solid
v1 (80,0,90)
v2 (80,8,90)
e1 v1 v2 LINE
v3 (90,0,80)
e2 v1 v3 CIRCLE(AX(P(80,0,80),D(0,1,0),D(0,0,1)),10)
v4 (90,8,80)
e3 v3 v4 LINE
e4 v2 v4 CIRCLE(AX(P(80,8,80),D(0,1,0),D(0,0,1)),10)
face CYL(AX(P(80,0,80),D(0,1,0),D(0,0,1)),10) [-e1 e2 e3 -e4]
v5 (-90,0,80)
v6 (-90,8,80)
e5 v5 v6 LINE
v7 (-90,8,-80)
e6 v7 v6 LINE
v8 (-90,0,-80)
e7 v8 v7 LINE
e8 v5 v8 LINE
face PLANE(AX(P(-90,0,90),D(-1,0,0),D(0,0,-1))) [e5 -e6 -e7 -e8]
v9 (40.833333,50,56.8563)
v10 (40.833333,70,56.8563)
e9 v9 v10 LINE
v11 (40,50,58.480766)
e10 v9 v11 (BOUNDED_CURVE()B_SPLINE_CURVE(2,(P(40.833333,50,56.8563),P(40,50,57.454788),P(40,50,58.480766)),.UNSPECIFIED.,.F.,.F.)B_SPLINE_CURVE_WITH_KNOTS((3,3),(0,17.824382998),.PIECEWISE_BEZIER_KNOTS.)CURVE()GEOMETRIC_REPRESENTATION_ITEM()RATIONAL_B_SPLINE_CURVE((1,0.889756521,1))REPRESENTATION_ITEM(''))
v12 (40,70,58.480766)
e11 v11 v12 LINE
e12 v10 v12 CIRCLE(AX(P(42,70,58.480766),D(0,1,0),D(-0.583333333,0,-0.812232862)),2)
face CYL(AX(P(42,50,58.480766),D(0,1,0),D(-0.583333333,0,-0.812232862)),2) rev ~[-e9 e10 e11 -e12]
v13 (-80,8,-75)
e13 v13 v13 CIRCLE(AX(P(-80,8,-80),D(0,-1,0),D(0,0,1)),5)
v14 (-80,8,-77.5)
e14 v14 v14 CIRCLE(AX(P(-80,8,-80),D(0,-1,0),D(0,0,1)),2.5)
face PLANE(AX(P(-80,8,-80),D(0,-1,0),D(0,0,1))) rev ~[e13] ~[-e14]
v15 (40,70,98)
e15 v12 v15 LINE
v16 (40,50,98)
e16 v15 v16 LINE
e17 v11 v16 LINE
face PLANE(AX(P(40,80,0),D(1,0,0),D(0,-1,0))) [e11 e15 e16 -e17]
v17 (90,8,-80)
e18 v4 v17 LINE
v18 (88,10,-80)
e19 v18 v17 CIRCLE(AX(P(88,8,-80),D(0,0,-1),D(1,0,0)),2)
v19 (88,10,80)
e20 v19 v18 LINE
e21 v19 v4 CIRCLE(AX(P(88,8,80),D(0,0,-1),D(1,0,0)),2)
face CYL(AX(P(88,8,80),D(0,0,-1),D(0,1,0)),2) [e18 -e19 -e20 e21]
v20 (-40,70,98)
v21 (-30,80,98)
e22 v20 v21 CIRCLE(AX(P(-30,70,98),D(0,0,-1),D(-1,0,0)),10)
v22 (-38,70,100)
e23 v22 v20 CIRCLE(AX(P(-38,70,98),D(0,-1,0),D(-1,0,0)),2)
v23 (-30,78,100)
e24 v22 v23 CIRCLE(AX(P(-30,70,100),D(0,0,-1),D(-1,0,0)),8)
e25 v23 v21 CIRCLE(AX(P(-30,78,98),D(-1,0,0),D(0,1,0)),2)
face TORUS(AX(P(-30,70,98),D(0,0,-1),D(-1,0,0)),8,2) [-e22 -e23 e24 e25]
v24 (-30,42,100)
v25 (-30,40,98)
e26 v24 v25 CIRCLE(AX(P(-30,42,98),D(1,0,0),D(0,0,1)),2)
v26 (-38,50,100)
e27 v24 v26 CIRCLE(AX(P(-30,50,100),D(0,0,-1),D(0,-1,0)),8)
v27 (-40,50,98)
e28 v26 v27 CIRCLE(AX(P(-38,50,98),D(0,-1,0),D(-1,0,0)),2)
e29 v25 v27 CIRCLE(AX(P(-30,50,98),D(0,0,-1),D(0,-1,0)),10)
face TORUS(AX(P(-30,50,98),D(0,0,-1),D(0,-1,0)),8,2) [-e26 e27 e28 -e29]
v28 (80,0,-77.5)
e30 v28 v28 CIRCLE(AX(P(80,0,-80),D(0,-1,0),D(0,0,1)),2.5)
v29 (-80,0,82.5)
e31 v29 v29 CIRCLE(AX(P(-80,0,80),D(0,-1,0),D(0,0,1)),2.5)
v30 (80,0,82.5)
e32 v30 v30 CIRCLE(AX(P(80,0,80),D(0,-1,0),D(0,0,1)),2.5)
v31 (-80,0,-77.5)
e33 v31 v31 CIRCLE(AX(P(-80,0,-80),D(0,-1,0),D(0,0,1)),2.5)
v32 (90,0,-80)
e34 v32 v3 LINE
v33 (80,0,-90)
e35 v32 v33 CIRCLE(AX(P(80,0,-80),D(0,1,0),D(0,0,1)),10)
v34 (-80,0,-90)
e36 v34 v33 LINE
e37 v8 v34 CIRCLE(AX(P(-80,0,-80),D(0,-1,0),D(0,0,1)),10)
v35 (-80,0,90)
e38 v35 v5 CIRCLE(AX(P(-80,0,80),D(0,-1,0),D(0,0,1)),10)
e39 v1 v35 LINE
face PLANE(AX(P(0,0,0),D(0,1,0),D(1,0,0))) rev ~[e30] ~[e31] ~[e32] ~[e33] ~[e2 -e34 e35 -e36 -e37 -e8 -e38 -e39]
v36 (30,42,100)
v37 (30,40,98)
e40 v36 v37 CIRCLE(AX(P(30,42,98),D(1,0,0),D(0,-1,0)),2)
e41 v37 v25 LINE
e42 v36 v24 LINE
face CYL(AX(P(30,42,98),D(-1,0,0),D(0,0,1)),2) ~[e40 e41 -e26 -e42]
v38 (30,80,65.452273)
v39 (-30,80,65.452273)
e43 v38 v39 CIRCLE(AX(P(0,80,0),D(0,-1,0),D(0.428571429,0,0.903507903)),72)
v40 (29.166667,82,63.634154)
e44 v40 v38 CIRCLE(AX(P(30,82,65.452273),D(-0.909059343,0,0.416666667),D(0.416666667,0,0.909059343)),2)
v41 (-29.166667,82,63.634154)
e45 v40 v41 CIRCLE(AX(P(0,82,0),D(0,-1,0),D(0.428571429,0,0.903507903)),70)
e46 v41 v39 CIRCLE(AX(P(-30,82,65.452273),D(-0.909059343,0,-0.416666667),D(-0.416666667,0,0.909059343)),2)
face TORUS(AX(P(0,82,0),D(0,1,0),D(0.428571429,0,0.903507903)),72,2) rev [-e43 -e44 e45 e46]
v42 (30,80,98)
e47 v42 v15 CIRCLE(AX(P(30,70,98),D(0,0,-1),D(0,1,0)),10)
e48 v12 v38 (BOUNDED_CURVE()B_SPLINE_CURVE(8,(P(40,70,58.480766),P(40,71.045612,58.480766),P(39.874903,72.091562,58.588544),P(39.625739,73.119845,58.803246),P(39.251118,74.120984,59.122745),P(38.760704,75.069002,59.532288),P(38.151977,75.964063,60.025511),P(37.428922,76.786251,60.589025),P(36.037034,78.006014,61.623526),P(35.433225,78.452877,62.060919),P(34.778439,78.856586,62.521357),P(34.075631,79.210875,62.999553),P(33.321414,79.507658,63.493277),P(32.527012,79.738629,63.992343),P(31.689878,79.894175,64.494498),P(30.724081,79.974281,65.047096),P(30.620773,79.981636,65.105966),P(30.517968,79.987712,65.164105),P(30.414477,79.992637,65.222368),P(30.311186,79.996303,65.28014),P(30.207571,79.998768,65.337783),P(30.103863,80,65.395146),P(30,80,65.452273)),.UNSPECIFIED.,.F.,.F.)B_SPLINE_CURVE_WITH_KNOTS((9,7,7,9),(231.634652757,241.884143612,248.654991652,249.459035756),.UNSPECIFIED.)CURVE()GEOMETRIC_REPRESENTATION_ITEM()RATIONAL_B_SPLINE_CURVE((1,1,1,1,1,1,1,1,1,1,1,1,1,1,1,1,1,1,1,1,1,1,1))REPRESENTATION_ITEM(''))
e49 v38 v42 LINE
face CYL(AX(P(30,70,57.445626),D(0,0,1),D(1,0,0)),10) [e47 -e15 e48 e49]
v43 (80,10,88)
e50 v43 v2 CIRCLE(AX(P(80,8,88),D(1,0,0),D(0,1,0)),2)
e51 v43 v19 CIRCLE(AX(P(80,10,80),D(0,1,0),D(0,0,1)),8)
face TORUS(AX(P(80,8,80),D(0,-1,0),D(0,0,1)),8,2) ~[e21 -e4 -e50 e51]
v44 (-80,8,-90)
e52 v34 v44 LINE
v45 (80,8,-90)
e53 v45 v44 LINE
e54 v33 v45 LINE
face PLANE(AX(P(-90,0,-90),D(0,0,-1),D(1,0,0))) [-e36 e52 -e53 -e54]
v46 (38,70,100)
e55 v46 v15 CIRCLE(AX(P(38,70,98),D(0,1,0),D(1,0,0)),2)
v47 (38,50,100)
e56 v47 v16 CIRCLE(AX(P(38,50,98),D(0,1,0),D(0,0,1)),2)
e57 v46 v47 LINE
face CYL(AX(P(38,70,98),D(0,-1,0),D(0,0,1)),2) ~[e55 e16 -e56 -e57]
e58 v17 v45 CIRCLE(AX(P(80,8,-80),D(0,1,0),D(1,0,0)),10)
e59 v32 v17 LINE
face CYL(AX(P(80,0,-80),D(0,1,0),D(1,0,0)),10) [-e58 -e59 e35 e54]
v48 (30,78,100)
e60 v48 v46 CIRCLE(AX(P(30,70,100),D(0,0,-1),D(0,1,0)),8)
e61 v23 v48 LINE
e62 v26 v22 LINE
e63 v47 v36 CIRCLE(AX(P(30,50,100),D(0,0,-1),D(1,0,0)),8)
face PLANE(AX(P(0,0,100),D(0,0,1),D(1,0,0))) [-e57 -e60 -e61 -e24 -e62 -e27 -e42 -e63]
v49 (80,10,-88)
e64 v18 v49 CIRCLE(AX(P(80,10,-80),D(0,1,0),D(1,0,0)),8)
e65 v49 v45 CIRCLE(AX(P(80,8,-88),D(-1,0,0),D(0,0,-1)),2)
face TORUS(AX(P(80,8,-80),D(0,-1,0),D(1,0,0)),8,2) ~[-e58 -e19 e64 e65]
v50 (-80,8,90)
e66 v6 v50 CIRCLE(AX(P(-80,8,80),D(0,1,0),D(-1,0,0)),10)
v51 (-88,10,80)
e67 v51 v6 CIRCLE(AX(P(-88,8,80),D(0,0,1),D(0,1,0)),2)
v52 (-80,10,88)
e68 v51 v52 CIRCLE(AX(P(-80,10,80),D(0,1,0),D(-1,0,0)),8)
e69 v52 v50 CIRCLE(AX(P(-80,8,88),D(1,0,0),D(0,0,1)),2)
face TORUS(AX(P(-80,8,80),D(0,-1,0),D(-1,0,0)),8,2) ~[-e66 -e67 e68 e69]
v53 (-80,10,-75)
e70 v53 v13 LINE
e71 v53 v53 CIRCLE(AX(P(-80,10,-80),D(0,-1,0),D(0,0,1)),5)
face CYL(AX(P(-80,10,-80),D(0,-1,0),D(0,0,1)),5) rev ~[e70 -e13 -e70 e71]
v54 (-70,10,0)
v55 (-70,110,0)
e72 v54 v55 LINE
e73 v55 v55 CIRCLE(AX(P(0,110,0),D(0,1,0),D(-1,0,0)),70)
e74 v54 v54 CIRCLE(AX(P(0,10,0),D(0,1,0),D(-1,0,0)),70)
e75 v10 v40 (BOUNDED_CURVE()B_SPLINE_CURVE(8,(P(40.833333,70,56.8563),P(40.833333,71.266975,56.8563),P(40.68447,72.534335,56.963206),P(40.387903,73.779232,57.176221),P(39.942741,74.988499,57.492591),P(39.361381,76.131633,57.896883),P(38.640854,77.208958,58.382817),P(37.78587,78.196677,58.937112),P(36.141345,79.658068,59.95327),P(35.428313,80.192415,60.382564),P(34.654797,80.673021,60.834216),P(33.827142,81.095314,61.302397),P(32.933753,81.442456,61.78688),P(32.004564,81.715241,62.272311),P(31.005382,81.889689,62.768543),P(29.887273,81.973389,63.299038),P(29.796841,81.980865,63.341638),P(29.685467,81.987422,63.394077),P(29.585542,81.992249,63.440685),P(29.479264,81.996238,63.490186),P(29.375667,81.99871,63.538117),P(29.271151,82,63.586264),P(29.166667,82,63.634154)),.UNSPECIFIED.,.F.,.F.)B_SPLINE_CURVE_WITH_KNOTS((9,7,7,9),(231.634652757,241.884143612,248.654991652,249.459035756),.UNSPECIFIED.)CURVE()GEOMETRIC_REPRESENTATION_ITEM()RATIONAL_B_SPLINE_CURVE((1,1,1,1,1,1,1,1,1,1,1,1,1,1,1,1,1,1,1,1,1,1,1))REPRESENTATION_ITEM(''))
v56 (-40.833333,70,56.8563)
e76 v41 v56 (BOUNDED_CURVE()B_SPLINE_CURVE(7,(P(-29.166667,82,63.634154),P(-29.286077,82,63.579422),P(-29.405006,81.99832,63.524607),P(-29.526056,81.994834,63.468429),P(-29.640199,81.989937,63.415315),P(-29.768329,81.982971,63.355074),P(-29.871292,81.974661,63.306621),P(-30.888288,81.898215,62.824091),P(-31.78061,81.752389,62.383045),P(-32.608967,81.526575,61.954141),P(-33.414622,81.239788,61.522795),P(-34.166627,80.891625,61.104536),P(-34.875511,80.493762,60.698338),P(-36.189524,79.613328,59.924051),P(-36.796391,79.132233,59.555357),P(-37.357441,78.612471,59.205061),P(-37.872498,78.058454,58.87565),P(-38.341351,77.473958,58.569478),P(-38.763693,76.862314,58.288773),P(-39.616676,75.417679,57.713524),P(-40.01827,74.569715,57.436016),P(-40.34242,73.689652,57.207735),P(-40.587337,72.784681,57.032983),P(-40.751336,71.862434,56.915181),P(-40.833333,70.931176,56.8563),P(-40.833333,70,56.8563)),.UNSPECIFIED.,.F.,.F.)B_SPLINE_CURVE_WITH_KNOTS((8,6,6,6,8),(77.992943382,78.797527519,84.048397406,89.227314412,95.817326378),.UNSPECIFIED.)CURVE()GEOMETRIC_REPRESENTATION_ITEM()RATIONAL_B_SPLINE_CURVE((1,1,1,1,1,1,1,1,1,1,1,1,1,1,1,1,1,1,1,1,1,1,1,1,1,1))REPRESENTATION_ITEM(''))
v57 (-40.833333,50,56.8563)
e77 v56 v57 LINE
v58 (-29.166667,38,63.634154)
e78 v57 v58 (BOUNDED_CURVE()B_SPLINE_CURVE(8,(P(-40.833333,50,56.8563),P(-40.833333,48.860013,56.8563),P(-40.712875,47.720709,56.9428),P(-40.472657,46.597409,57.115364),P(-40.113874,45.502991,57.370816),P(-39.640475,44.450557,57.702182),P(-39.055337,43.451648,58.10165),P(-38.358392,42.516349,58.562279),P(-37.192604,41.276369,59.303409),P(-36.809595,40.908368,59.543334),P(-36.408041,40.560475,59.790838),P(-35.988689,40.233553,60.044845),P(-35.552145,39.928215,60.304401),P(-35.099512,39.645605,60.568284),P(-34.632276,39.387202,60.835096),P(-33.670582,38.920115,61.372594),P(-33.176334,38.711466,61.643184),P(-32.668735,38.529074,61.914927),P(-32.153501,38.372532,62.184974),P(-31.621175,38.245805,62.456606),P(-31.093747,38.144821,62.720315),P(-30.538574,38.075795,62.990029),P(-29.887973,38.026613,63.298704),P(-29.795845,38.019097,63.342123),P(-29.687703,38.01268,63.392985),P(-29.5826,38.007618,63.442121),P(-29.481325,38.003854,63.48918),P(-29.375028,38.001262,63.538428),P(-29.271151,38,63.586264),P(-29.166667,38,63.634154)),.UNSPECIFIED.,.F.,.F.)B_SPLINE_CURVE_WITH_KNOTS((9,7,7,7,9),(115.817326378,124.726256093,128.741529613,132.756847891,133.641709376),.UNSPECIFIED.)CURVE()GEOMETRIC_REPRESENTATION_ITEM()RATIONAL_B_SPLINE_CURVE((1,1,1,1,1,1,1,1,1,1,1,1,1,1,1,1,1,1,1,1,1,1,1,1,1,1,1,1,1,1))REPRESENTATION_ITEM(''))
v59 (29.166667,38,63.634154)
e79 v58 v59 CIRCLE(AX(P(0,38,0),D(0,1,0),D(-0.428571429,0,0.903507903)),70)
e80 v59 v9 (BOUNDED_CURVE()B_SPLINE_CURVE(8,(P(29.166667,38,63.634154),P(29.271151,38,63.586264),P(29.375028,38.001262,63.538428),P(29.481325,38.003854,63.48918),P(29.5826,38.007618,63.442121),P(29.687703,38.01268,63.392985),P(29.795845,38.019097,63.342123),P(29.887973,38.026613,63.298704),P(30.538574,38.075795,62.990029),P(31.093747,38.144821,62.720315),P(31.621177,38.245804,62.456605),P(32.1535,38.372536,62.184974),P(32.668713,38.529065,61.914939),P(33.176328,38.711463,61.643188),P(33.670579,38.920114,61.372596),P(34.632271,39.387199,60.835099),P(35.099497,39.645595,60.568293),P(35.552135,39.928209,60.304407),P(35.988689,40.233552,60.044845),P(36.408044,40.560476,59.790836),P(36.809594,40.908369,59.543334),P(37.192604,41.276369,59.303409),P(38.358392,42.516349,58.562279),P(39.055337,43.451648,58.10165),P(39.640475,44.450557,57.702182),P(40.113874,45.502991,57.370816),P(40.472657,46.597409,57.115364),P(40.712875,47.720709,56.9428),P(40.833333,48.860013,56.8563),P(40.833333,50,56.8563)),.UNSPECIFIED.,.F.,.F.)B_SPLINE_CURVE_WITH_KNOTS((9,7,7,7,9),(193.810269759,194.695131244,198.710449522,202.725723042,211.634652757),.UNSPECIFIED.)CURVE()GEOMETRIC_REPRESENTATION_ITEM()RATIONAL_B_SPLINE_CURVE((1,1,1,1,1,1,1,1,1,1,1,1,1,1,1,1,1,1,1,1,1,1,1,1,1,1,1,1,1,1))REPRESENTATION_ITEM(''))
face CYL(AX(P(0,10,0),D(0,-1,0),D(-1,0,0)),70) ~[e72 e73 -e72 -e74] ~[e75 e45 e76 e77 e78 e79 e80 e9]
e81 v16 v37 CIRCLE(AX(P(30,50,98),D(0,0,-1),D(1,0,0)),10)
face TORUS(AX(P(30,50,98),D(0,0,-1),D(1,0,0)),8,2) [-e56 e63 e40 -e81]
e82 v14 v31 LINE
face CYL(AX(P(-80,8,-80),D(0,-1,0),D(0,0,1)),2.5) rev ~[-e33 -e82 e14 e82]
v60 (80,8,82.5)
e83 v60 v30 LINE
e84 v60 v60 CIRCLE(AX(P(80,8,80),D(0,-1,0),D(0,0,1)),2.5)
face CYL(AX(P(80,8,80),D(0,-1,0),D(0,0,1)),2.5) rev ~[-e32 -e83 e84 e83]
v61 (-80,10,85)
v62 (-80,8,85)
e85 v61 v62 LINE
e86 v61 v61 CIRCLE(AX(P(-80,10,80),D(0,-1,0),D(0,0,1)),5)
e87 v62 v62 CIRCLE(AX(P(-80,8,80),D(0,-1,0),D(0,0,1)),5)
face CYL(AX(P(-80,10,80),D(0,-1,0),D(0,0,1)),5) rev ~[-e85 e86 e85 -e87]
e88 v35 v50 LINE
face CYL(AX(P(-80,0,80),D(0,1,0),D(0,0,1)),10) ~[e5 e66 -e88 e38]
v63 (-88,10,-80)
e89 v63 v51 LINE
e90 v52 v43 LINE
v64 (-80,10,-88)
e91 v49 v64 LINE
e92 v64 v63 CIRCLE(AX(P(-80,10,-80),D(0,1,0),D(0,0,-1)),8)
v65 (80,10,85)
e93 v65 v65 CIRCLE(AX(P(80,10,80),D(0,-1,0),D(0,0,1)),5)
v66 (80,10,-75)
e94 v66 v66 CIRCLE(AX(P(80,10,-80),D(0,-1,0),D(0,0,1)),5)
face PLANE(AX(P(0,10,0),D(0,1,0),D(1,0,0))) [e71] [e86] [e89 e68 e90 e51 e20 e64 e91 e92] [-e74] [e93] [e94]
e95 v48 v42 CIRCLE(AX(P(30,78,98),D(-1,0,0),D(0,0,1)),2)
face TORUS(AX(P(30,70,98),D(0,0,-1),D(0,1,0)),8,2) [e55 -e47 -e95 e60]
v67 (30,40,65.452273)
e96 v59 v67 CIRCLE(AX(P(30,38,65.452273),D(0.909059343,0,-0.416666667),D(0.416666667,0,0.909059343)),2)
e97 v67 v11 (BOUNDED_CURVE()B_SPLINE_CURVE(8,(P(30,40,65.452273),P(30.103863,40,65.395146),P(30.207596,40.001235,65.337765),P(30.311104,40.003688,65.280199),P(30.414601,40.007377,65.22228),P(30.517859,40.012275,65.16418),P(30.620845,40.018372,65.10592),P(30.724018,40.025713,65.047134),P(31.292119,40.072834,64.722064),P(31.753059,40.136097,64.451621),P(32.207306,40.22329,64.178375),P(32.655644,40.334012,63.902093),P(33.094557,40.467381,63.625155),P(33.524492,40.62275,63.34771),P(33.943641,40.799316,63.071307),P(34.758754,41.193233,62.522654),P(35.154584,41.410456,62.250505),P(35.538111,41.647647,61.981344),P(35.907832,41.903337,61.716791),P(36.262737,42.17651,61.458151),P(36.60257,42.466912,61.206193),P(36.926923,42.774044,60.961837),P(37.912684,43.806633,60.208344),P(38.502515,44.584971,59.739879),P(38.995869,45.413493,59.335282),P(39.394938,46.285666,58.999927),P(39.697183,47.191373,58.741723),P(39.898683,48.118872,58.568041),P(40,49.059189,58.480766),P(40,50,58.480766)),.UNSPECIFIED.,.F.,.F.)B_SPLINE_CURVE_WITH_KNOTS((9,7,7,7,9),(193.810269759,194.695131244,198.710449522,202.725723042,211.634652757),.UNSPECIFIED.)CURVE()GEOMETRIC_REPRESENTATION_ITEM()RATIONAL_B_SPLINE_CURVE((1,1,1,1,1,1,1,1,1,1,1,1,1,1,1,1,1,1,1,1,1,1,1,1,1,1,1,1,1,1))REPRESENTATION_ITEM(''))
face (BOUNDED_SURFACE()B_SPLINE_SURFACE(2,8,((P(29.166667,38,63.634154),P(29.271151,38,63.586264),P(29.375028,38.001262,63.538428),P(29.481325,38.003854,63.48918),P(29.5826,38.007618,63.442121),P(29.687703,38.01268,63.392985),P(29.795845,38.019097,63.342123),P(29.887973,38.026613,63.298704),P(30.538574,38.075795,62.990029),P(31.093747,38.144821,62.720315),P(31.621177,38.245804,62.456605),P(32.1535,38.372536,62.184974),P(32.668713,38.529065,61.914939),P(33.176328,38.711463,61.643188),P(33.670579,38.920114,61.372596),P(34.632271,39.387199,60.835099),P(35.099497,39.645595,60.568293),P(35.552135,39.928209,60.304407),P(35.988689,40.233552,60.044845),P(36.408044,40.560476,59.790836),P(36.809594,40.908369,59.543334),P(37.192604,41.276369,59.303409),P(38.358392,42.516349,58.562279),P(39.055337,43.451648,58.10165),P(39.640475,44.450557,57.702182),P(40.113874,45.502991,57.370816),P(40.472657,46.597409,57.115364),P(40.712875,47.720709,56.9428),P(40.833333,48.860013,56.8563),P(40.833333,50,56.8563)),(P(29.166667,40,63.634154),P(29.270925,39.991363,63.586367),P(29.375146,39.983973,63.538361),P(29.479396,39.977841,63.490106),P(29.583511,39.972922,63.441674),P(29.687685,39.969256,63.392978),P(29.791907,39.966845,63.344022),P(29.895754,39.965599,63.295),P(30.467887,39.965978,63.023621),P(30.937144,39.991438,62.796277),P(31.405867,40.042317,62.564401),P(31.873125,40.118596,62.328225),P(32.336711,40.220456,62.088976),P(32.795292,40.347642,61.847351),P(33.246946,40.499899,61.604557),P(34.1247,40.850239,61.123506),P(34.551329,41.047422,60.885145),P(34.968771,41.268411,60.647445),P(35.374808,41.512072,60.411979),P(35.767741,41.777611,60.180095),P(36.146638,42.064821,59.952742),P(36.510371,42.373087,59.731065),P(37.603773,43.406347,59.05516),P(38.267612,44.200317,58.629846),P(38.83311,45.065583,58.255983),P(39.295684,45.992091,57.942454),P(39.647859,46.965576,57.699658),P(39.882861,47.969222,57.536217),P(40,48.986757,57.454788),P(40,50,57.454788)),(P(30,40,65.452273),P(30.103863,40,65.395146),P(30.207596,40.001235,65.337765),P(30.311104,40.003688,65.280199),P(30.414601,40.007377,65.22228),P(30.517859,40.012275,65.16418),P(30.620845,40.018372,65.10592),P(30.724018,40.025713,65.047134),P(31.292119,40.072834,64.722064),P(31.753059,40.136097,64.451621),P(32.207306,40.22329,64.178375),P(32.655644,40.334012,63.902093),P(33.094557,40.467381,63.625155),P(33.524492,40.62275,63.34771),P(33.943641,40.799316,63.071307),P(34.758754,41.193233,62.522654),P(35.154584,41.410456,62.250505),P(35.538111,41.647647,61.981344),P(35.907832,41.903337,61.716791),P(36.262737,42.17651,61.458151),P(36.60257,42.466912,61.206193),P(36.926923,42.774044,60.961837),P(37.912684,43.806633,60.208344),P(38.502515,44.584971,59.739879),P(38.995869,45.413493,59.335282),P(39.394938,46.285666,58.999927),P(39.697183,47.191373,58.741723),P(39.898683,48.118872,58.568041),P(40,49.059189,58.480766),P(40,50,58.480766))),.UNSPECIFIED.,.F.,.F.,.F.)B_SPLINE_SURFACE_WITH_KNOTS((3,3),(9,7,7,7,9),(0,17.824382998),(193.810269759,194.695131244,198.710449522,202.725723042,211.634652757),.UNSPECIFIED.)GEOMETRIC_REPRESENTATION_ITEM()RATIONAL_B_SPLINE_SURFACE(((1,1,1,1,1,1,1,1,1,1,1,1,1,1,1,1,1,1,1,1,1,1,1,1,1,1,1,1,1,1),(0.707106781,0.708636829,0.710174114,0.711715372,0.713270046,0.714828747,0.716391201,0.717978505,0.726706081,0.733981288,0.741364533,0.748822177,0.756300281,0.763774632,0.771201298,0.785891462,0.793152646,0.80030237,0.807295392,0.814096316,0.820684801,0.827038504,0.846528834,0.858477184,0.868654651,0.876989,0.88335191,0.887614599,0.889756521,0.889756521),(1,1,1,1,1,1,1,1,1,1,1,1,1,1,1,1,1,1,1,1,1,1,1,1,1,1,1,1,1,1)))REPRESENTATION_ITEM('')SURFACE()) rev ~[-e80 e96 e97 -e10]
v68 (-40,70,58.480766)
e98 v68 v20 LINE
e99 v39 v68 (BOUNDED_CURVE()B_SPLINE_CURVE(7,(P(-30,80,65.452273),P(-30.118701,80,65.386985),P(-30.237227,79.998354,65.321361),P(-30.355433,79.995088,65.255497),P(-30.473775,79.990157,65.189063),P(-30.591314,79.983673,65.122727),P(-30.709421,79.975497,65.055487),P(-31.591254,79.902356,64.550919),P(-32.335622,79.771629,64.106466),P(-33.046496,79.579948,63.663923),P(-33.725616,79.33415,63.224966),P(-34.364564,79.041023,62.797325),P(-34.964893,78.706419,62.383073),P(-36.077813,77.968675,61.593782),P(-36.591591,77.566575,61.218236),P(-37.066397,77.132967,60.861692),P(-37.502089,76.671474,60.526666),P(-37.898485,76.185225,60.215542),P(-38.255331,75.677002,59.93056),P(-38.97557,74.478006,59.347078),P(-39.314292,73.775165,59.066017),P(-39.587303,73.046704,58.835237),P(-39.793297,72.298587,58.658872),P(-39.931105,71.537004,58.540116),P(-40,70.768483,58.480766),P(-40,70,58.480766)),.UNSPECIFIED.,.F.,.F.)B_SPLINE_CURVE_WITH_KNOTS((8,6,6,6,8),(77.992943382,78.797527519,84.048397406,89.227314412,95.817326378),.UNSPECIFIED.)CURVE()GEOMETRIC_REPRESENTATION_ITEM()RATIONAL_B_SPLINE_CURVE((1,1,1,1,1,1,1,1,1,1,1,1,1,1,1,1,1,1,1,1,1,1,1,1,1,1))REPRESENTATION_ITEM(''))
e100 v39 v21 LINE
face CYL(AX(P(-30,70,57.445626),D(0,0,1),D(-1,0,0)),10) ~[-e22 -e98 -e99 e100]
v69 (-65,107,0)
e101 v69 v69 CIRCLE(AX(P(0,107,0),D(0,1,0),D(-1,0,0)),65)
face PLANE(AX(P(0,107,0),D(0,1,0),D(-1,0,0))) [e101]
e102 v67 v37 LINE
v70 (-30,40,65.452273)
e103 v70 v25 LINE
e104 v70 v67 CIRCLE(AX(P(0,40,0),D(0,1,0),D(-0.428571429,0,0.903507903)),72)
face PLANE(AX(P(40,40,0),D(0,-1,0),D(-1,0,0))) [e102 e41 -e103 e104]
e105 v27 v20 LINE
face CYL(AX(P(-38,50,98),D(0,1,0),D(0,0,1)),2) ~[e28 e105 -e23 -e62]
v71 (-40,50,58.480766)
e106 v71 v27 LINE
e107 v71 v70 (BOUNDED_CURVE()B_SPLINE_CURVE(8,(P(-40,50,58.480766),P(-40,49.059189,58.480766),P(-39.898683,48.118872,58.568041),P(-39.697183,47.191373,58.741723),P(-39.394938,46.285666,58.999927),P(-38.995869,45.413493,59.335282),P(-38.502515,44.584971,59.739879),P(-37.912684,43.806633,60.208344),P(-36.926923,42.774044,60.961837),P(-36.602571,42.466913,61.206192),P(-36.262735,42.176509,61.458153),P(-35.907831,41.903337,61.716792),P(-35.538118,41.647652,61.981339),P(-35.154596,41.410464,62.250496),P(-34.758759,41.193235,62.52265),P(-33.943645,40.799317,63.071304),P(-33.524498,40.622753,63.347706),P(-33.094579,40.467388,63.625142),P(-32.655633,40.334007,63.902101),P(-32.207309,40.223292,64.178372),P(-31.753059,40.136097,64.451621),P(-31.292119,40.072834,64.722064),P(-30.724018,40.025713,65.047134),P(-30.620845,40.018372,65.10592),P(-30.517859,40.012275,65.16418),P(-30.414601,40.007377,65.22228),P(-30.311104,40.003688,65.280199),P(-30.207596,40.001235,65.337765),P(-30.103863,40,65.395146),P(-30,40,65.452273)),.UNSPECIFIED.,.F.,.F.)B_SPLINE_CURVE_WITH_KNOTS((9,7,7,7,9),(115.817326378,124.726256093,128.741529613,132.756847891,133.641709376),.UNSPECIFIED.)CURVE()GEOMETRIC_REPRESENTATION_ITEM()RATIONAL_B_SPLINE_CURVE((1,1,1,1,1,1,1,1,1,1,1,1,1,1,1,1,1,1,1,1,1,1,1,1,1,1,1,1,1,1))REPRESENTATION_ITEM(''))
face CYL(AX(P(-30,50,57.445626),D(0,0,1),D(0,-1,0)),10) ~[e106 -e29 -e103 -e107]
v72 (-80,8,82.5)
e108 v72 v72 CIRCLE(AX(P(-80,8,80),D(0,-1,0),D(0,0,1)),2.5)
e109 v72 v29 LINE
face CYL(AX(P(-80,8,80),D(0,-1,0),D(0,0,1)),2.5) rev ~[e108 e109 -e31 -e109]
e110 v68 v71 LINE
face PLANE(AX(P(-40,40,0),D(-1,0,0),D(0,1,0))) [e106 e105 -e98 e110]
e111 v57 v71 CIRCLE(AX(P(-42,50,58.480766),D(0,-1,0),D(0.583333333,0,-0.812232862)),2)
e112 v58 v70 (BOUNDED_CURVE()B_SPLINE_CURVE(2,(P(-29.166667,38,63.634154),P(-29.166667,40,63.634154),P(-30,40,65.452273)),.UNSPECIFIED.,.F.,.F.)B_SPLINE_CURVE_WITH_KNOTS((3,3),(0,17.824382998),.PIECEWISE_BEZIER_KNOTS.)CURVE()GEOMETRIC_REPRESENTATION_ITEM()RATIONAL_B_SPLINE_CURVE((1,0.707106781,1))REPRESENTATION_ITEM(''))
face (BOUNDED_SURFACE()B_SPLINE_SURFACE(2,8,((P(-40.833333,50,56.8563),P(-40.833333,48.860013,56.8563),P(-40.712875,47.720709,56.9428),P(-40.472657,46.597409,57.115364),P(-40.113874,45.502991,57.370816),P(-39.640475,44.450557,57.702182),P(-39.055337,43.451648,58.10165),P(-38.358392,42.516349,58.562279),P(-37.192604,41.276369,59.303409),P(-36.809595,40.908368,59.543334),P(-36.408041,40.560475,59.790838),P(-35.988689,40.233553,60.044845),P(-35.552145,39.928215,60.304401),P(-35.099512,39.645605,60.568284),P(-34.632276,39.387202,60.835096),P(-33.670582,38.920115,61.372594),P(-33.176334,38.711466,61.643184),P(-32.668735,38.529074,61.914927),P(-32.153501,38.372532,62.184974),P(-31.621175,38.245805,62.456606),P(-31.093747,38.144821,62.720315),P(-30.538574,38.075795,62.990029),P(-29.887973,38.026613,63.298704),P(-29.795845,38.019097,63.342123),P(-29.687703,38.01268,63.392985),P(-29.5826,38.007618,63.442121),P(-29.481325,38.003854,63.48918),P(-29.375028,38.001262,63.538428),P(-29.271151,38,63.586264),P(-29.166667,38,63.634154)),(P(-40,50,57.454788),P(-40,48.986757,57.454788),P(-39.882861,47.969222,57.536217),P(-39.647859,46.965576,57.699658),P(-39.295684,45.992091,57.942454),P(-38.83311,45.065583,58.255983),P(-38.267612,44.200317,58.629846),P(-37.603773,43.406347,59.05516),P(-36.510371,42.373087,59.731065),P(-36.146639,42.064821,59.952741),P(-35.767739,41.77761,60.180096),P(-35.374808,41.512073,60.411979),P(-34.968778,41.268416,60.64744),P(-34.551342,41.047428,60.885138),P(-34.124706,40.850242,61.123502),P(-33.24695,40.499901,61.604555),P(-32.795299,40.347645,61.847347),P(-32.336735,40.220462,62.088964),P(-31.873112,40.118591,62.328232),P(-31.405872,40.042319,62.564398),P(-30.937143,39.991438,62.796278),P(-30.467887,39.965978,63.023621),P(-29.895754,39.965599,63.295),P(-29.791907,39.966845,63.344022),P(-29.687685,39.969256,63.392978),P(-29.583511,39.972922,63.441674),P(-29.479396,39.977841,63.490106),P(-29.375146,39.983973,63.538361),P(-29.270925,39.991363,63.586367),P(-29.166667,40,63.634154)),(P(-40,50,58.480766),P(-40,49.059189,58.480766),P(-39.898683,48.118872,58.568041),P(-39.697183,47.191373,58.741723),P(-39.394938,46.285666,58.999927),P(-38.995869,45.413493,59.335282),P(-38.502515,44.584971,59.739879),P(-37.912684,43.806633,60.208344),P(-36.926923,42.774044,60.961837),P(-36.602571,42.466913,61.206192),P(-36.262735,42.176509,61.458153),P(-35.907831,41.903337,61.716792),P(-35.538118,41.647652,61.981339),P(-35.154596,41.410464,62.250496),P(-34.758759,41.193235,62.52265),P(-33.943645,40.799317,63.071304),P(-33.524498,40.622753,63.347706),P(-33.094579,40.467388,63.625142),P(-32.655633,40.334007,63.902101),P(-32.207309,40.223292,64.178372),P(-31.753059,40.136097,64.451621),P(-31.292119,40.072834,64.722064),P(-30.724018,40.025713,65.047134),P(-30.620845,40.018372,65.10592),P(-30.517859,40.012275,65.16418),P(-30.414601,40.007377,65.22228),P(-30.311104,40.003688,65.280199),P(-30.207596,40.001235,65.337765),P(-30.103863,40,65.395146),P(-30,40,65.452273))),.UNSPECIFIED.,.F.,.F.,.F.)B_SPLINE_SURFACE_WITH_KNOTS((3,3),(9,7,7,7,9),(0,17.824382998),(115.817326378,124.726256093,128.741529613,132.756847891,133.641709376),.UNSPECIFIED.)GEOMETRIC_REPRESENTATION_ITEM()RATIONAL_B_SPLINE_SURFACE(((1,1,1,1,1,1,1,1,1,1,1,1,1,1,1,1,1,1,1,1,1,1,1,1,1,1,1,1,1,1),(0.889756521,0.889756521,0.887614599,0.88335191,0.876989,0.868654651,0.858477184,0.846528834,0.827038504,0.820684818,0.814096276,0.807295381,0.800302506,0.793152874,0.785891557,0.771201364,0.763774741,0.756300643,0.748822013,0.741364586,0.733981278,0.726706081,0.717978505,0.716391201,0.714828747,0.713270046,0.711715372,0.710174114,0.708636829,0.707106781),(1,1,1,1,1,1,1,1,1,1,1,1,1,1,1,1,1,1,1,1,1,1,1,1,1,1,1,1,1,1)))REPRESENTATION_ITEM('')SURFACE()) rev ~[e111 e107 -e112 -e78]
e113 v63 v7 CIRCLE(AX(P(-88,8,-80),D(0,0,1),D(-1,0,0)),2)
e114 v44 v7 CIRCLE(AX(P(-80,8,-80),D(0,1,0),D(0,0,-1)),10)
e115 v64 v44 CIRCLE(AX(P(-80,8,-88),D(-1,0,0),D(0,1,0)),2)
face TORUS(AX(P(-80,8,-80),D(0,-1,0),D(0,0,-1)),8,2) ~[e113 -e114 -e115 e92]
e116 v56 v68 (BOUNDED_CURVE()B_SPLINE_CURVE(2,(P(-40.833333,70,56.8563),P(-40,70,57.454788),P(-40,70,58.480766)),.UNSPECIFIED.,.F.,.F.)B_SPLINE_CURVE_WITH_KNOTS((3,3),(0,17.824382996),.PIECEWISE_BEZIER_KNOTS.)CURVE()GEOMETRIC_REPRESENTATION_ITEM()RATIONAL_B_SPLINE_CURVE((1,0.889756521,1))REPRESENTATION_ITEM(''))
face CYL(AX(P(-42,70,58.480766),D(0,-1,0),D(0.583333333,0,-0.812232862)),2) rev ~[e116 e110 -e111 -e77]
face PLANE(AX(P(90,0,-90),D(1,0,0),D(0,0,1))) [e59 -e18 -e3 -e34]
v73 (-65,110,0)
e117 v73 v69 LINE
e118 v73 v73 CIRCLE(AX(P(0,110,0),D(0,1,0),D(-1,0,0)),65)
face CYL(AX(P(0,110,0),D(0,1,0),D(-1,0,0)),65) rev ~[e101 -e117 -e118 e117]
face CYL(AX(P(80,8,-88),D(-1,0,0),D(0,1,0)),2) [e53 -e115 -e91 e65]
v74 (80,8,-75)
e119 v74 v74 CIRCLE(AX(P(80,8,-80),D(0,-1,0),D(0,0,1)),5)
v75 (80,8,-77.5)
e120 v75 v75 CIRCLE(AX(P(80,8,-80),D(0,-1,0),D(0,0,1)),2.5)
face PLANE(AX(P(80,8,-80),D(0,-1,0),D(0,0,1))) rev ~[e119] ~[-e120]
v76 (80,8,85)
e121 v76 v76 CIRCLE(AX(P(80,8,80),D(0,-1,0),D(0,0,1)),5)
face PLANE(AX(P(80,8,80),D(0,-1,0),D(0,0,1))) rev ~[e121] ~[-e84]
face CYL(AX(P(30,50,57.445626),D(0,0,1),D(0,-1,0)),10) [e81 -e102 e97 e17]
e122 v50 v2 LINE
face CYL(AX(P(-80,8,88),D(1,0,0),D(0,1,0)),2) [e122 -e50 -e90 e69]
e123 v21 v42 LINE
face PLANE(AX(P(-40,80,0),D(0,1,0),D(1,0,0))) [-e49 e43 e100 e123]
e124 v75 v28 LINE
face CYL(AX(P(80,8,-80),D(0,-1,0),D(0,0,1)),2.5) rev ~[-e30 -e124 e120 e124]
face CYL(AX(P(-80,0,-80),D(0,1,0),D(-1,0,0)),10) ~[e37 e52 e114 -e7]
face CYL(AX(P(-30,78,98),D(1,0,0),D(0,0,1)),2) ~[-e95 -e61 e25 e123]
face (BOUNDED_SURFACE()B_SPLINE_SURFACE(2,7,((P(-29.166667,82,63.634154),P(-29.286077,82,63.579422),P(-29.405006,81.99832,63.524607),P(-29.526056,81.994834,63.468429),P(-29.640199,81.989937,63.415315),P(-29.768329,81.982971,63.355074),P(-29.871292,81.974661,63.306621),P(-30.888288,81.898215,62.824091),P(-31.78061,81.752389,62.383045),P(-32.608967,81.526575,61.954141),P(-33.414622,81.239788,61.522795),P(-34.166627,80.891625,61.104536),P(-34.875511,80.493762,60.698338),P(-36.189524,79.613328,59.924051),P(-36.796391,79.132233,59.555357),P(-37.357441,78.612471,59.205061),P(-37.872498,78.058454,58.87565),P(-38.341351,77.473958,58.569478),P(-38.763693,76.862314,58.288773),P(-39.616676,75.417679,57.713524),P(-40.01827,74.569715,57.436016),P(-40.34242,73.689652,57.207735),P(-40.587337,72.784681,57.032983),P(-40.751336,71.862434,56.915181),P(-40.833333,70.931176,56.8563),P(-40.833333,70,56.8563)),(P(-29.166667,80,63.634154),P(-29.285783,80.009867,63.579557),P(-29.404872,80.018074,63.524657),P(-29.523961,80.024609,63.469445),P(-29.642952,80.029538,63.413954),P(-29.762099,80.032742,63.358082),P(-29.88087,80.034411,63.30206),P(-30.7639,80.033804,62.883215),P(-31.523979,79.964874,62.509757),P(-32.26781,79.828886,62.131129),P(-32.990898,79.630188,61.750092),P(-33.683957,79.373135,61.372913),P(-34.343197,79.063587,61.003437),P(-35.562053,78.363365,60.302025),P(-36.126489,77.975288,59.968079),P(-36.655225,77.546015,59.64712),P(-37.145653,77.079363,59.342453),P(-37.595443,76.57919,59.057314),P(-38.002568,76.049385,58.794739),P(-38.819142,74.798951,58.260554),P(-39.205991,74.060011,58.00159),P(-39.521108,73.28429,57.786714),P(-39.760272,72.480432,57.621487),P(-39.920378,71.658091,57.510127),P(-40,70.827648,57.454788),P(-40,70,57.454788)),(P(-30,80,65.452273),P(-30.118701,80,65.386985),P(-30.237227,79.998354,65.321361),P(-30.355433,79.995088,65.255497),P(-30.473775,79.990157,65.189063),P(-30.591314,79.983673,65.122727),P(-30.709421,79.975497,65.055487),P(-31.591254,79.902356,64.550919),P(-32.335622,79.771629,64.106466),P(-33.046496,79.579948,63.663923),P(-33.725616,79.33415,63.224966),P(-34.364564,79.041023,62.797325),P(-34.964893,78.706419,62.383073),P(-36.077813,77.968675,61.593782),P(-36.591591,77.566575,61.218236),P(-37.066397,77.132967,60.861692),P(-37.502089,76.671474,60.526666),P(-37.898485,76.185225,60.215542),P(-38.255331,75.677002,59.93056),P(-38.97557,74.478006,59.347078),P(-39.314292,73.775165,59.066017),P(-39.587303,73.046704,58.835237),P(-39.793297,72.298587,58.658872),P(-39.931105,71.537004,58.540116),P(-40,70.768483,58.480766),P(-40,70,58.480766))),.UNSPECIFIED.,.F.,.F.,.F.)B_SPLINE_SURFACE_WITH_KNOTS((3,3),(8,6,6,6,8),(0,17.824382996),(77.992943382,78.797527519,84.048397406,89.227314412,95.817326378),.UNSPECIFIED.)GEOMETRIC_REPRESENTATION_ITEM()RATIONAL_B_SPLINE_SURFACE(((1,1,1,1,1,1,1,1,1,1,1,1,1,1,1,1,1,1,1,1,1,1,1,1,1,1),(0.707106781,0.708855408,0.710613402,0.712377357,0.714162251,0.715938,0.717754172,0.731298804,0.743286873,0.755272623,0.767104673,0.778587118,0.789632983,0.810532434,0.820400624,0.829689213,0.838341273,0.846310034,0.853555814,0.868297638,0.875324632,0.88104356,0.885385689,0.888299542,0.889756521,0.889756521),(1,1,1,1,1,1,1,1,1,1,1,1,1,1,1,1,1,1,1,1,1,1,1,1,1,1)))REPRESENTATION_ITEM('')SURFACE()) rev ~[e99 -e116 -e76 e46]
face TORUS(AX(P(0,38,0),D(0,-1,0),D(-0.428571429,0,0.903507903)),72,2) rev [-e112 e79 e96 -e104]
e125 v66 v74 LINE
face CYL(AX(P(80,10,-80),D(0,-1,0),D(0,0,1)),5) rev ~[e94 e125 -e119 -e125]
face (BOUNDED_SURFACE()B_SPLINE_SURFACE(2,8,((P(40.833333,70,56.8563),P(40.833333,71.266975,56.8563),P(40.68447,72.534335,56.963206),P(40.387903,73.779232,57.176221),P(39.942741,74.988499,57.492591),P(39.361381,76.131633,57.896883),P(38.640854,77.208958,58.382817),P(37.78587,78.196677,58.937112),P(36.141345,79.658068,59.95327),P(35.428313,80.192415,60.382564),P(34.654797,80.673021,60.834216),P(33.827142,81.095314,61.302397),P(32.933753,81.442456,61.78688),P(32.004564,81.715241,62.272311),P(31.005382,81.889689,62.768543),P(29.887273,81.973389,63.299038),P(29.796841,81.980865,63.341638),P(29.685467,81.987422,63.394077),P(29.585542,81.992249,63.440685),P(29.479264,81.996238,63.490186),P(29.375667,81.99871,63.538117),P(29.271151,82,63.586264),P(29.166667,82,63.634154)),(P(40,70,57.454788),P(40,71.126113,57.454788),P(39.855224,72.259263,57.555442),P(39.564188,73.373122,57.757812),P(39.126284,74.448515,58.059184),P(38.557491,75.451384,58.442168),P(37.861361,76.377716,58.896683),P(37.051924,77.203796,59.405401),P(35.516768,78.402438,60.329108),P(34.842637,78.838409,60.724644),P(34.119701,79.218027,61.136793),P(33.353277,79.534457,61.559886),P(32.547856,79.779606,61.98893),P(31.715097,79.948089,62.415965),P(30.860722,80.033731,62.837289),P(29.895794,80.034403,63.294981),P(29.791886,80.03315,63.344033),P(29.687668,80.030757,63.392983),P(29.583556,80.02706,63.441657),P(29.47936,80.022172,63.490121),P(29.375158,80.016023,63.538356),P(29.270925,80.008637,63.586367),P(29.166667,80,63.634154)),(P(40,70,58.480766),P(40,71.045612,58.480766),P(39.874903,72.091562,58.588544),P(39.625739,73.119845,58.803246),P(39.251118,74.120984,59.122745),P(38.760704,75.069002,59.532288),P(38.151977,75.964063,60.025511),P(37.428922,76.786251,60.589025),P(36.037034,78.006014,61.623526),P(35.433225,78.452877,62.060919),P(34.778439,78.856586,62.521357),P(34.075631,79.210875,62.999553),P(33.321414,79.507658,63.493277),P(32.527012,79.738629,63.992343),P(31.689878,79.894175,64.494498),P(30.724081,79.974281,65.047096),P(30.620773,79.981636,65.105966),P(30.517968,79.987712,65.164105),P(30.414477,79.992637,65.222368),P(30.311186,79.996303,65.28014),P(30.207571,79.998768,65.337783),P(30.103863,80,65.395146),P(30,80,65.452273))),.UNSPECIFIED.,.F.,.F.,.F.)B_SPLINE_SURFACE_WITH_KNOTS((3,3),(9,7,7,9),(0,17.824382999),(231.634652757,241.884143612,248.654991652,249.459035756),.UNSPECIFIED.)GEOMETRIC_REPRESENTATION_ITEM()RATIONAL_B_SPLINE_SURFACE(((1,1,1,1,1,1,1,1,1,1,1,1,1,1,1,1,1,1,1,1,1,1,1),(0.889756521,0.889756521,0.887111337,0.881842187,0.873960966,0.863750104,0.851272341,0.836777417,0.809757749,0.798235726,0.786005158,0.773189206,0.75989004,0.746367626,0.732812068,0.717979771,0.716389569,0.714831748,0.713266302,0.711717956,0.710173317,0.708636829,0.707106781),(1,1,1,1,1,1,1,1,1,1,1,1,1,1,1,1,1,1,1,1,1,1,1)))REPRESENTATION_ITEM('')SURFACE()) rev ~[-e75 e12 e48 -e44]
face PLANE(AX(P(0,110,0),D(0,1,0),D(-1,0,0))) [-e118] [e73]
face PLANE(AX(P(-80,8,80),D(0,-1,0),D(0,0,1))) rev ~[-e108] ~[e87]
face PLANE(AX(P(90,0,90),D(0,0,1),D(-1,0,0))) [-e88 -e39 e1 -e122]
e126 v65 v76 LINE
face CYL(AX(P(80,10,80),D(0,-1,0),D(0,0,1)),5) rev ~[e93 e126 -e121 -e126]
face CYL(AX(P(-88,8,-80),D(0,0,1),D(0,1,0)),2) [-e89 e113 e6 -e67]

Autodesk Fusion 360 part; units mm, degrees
sketch "Sketch1" plane through (0, 0, 0) normal (0, 1, 0) x (1, 0, 0)
  line L0 (90, -90) -> (-90, -90)
  line L1 (-90, -90) -> (-90, 90)
  line L2 (-90, 90) -> (90, 90)
  line L3 (90, 90) -> (90, -90)
  line L4 (90, -90) -> (-90, 90) construction
  line L5 (-90, -90) -> (90, 90) construction
  dimension "d1" = 180
  dimension "d2" = 180
extrude "Extrude1" add sketch "Sketch1" along normal blind 10
sketch "Sketch2" plane through (0, 10, 0) normal (0, 1, 0) x (-1, 0, 0)
  line L0 (-90, -90) -> (90, -90)
  line L1 (90, -90) -> (90, 90)
  line L2 (90, 90) -> (-90, 90)
  line L3 (-90, 90) -> (-90, -90)
  circle A0 centre (0, 0) radius 70
  dimension "d5" = 140
extrude "Extrude2" add sketch "Sketch2" along normal blind 100 contours A0
sketch "Sketch3" plane through (0, 0, 0) normal (0, 0, 1) x (1, 0, 0)
  line L0 (40, 40) -> (-40, 40)
  line L1 (-40, 40) -> (-40, 80)
  line L2 (-40, 80) -> (40, 80)
  line L3 (40, 80) -> (40, 40)
  line L4 (40, 40) -> (-40, 80) construction
  line L5 (-40, 40) -> (40, 80) construction
  point P0 (0, 60)
  dimension "d8" = 80
  dimension "d9" = 40
  dimension "d10" = 60
extrude "Extrude3" add sketch "Sketch3" along normal blind 100
sketch "Sketch4" plane through (0, 110, 0) normal (0, 1, 0) x (-1, 0, 0)
  circle A0 centre (0, 0) radius 70
  circle A1 centre (0, 0) radius 65
  dimension "d13" = -5
extrude "Extrude4" cut sketch "Sketch4" against normal blind 3 contours A1
sketch "Sketch5" plane through (0, 10, 0) normal (0, 1, 0) x (-1, 0, 0)
  circle A0 centre (0, 0) radius 70
  line L0 (-90, -90) -> (90, -90)
  line L1 (90, -90) -> (90, 90)
  line L2 (90, 90) -> (-90, 90)
  line L3 (-90, 90) -> (-90, -90)
  point P0 (80, -80)
  point P1 (-80, -80)
  point P2 (-80, 80)
  point P3 (80, 80)
  dimension "d16" = 10
  dimension "d17" = 10
  dimension "d18" = 10
  dimension "d19" = 10
  dimension "d20" = 10
  dimension "d21" = 10
  dimension "d22" = 10
  dimension "d23" = 10
hole "Hole1" at (-80, 10, 80) at (80, 10, 80) at (80, 10, -80) at (-80, 10, -80) direction (0, -1, 0) diameter 5 depth 10 tip angle 118 counterbore diameter 10 counterbore depth 2
fillet "Fillet1" radius 10 8 edges at (-90, 5, 90) (90, 5, 90) (90, 5, -90) (-90, 5, -90) (-40, 80, 78.7228) (-40, 40, 78.7228) (40, 80, 78.7228) (40, 40, 78.7228)
fillet "Fillet2" radius 2 24 edges at (87.0711, 10, -87.0711) (0, 10, -90) (-87.0711, 10, -87.0711) (-90, 10, 0) (-87.0711, 10, 87.0711) (0, 10, 90) (87.0711, 10, 87.0711) (90, 10, 0) (36.9012, 77.2363, 59.4835) (40, 60, 57.4456) (36.9012, 42.7637, 59.4835) (0, 40, 70) (-36.9012, 42.7637, 59.4835) (-40, 60, 57.4456) (-36.9012, 77.2363, 59.4835) (0, 80, 70) (-37.0711, 77.0711, 100) (-40, 60, 100) (-37.0711, 42.9289, 100) (0, 40, 100) (37.0711, 42.9289, 100) (40, 60, 100) (37.0711, 77.0711, 100) (0, 80, 100)
